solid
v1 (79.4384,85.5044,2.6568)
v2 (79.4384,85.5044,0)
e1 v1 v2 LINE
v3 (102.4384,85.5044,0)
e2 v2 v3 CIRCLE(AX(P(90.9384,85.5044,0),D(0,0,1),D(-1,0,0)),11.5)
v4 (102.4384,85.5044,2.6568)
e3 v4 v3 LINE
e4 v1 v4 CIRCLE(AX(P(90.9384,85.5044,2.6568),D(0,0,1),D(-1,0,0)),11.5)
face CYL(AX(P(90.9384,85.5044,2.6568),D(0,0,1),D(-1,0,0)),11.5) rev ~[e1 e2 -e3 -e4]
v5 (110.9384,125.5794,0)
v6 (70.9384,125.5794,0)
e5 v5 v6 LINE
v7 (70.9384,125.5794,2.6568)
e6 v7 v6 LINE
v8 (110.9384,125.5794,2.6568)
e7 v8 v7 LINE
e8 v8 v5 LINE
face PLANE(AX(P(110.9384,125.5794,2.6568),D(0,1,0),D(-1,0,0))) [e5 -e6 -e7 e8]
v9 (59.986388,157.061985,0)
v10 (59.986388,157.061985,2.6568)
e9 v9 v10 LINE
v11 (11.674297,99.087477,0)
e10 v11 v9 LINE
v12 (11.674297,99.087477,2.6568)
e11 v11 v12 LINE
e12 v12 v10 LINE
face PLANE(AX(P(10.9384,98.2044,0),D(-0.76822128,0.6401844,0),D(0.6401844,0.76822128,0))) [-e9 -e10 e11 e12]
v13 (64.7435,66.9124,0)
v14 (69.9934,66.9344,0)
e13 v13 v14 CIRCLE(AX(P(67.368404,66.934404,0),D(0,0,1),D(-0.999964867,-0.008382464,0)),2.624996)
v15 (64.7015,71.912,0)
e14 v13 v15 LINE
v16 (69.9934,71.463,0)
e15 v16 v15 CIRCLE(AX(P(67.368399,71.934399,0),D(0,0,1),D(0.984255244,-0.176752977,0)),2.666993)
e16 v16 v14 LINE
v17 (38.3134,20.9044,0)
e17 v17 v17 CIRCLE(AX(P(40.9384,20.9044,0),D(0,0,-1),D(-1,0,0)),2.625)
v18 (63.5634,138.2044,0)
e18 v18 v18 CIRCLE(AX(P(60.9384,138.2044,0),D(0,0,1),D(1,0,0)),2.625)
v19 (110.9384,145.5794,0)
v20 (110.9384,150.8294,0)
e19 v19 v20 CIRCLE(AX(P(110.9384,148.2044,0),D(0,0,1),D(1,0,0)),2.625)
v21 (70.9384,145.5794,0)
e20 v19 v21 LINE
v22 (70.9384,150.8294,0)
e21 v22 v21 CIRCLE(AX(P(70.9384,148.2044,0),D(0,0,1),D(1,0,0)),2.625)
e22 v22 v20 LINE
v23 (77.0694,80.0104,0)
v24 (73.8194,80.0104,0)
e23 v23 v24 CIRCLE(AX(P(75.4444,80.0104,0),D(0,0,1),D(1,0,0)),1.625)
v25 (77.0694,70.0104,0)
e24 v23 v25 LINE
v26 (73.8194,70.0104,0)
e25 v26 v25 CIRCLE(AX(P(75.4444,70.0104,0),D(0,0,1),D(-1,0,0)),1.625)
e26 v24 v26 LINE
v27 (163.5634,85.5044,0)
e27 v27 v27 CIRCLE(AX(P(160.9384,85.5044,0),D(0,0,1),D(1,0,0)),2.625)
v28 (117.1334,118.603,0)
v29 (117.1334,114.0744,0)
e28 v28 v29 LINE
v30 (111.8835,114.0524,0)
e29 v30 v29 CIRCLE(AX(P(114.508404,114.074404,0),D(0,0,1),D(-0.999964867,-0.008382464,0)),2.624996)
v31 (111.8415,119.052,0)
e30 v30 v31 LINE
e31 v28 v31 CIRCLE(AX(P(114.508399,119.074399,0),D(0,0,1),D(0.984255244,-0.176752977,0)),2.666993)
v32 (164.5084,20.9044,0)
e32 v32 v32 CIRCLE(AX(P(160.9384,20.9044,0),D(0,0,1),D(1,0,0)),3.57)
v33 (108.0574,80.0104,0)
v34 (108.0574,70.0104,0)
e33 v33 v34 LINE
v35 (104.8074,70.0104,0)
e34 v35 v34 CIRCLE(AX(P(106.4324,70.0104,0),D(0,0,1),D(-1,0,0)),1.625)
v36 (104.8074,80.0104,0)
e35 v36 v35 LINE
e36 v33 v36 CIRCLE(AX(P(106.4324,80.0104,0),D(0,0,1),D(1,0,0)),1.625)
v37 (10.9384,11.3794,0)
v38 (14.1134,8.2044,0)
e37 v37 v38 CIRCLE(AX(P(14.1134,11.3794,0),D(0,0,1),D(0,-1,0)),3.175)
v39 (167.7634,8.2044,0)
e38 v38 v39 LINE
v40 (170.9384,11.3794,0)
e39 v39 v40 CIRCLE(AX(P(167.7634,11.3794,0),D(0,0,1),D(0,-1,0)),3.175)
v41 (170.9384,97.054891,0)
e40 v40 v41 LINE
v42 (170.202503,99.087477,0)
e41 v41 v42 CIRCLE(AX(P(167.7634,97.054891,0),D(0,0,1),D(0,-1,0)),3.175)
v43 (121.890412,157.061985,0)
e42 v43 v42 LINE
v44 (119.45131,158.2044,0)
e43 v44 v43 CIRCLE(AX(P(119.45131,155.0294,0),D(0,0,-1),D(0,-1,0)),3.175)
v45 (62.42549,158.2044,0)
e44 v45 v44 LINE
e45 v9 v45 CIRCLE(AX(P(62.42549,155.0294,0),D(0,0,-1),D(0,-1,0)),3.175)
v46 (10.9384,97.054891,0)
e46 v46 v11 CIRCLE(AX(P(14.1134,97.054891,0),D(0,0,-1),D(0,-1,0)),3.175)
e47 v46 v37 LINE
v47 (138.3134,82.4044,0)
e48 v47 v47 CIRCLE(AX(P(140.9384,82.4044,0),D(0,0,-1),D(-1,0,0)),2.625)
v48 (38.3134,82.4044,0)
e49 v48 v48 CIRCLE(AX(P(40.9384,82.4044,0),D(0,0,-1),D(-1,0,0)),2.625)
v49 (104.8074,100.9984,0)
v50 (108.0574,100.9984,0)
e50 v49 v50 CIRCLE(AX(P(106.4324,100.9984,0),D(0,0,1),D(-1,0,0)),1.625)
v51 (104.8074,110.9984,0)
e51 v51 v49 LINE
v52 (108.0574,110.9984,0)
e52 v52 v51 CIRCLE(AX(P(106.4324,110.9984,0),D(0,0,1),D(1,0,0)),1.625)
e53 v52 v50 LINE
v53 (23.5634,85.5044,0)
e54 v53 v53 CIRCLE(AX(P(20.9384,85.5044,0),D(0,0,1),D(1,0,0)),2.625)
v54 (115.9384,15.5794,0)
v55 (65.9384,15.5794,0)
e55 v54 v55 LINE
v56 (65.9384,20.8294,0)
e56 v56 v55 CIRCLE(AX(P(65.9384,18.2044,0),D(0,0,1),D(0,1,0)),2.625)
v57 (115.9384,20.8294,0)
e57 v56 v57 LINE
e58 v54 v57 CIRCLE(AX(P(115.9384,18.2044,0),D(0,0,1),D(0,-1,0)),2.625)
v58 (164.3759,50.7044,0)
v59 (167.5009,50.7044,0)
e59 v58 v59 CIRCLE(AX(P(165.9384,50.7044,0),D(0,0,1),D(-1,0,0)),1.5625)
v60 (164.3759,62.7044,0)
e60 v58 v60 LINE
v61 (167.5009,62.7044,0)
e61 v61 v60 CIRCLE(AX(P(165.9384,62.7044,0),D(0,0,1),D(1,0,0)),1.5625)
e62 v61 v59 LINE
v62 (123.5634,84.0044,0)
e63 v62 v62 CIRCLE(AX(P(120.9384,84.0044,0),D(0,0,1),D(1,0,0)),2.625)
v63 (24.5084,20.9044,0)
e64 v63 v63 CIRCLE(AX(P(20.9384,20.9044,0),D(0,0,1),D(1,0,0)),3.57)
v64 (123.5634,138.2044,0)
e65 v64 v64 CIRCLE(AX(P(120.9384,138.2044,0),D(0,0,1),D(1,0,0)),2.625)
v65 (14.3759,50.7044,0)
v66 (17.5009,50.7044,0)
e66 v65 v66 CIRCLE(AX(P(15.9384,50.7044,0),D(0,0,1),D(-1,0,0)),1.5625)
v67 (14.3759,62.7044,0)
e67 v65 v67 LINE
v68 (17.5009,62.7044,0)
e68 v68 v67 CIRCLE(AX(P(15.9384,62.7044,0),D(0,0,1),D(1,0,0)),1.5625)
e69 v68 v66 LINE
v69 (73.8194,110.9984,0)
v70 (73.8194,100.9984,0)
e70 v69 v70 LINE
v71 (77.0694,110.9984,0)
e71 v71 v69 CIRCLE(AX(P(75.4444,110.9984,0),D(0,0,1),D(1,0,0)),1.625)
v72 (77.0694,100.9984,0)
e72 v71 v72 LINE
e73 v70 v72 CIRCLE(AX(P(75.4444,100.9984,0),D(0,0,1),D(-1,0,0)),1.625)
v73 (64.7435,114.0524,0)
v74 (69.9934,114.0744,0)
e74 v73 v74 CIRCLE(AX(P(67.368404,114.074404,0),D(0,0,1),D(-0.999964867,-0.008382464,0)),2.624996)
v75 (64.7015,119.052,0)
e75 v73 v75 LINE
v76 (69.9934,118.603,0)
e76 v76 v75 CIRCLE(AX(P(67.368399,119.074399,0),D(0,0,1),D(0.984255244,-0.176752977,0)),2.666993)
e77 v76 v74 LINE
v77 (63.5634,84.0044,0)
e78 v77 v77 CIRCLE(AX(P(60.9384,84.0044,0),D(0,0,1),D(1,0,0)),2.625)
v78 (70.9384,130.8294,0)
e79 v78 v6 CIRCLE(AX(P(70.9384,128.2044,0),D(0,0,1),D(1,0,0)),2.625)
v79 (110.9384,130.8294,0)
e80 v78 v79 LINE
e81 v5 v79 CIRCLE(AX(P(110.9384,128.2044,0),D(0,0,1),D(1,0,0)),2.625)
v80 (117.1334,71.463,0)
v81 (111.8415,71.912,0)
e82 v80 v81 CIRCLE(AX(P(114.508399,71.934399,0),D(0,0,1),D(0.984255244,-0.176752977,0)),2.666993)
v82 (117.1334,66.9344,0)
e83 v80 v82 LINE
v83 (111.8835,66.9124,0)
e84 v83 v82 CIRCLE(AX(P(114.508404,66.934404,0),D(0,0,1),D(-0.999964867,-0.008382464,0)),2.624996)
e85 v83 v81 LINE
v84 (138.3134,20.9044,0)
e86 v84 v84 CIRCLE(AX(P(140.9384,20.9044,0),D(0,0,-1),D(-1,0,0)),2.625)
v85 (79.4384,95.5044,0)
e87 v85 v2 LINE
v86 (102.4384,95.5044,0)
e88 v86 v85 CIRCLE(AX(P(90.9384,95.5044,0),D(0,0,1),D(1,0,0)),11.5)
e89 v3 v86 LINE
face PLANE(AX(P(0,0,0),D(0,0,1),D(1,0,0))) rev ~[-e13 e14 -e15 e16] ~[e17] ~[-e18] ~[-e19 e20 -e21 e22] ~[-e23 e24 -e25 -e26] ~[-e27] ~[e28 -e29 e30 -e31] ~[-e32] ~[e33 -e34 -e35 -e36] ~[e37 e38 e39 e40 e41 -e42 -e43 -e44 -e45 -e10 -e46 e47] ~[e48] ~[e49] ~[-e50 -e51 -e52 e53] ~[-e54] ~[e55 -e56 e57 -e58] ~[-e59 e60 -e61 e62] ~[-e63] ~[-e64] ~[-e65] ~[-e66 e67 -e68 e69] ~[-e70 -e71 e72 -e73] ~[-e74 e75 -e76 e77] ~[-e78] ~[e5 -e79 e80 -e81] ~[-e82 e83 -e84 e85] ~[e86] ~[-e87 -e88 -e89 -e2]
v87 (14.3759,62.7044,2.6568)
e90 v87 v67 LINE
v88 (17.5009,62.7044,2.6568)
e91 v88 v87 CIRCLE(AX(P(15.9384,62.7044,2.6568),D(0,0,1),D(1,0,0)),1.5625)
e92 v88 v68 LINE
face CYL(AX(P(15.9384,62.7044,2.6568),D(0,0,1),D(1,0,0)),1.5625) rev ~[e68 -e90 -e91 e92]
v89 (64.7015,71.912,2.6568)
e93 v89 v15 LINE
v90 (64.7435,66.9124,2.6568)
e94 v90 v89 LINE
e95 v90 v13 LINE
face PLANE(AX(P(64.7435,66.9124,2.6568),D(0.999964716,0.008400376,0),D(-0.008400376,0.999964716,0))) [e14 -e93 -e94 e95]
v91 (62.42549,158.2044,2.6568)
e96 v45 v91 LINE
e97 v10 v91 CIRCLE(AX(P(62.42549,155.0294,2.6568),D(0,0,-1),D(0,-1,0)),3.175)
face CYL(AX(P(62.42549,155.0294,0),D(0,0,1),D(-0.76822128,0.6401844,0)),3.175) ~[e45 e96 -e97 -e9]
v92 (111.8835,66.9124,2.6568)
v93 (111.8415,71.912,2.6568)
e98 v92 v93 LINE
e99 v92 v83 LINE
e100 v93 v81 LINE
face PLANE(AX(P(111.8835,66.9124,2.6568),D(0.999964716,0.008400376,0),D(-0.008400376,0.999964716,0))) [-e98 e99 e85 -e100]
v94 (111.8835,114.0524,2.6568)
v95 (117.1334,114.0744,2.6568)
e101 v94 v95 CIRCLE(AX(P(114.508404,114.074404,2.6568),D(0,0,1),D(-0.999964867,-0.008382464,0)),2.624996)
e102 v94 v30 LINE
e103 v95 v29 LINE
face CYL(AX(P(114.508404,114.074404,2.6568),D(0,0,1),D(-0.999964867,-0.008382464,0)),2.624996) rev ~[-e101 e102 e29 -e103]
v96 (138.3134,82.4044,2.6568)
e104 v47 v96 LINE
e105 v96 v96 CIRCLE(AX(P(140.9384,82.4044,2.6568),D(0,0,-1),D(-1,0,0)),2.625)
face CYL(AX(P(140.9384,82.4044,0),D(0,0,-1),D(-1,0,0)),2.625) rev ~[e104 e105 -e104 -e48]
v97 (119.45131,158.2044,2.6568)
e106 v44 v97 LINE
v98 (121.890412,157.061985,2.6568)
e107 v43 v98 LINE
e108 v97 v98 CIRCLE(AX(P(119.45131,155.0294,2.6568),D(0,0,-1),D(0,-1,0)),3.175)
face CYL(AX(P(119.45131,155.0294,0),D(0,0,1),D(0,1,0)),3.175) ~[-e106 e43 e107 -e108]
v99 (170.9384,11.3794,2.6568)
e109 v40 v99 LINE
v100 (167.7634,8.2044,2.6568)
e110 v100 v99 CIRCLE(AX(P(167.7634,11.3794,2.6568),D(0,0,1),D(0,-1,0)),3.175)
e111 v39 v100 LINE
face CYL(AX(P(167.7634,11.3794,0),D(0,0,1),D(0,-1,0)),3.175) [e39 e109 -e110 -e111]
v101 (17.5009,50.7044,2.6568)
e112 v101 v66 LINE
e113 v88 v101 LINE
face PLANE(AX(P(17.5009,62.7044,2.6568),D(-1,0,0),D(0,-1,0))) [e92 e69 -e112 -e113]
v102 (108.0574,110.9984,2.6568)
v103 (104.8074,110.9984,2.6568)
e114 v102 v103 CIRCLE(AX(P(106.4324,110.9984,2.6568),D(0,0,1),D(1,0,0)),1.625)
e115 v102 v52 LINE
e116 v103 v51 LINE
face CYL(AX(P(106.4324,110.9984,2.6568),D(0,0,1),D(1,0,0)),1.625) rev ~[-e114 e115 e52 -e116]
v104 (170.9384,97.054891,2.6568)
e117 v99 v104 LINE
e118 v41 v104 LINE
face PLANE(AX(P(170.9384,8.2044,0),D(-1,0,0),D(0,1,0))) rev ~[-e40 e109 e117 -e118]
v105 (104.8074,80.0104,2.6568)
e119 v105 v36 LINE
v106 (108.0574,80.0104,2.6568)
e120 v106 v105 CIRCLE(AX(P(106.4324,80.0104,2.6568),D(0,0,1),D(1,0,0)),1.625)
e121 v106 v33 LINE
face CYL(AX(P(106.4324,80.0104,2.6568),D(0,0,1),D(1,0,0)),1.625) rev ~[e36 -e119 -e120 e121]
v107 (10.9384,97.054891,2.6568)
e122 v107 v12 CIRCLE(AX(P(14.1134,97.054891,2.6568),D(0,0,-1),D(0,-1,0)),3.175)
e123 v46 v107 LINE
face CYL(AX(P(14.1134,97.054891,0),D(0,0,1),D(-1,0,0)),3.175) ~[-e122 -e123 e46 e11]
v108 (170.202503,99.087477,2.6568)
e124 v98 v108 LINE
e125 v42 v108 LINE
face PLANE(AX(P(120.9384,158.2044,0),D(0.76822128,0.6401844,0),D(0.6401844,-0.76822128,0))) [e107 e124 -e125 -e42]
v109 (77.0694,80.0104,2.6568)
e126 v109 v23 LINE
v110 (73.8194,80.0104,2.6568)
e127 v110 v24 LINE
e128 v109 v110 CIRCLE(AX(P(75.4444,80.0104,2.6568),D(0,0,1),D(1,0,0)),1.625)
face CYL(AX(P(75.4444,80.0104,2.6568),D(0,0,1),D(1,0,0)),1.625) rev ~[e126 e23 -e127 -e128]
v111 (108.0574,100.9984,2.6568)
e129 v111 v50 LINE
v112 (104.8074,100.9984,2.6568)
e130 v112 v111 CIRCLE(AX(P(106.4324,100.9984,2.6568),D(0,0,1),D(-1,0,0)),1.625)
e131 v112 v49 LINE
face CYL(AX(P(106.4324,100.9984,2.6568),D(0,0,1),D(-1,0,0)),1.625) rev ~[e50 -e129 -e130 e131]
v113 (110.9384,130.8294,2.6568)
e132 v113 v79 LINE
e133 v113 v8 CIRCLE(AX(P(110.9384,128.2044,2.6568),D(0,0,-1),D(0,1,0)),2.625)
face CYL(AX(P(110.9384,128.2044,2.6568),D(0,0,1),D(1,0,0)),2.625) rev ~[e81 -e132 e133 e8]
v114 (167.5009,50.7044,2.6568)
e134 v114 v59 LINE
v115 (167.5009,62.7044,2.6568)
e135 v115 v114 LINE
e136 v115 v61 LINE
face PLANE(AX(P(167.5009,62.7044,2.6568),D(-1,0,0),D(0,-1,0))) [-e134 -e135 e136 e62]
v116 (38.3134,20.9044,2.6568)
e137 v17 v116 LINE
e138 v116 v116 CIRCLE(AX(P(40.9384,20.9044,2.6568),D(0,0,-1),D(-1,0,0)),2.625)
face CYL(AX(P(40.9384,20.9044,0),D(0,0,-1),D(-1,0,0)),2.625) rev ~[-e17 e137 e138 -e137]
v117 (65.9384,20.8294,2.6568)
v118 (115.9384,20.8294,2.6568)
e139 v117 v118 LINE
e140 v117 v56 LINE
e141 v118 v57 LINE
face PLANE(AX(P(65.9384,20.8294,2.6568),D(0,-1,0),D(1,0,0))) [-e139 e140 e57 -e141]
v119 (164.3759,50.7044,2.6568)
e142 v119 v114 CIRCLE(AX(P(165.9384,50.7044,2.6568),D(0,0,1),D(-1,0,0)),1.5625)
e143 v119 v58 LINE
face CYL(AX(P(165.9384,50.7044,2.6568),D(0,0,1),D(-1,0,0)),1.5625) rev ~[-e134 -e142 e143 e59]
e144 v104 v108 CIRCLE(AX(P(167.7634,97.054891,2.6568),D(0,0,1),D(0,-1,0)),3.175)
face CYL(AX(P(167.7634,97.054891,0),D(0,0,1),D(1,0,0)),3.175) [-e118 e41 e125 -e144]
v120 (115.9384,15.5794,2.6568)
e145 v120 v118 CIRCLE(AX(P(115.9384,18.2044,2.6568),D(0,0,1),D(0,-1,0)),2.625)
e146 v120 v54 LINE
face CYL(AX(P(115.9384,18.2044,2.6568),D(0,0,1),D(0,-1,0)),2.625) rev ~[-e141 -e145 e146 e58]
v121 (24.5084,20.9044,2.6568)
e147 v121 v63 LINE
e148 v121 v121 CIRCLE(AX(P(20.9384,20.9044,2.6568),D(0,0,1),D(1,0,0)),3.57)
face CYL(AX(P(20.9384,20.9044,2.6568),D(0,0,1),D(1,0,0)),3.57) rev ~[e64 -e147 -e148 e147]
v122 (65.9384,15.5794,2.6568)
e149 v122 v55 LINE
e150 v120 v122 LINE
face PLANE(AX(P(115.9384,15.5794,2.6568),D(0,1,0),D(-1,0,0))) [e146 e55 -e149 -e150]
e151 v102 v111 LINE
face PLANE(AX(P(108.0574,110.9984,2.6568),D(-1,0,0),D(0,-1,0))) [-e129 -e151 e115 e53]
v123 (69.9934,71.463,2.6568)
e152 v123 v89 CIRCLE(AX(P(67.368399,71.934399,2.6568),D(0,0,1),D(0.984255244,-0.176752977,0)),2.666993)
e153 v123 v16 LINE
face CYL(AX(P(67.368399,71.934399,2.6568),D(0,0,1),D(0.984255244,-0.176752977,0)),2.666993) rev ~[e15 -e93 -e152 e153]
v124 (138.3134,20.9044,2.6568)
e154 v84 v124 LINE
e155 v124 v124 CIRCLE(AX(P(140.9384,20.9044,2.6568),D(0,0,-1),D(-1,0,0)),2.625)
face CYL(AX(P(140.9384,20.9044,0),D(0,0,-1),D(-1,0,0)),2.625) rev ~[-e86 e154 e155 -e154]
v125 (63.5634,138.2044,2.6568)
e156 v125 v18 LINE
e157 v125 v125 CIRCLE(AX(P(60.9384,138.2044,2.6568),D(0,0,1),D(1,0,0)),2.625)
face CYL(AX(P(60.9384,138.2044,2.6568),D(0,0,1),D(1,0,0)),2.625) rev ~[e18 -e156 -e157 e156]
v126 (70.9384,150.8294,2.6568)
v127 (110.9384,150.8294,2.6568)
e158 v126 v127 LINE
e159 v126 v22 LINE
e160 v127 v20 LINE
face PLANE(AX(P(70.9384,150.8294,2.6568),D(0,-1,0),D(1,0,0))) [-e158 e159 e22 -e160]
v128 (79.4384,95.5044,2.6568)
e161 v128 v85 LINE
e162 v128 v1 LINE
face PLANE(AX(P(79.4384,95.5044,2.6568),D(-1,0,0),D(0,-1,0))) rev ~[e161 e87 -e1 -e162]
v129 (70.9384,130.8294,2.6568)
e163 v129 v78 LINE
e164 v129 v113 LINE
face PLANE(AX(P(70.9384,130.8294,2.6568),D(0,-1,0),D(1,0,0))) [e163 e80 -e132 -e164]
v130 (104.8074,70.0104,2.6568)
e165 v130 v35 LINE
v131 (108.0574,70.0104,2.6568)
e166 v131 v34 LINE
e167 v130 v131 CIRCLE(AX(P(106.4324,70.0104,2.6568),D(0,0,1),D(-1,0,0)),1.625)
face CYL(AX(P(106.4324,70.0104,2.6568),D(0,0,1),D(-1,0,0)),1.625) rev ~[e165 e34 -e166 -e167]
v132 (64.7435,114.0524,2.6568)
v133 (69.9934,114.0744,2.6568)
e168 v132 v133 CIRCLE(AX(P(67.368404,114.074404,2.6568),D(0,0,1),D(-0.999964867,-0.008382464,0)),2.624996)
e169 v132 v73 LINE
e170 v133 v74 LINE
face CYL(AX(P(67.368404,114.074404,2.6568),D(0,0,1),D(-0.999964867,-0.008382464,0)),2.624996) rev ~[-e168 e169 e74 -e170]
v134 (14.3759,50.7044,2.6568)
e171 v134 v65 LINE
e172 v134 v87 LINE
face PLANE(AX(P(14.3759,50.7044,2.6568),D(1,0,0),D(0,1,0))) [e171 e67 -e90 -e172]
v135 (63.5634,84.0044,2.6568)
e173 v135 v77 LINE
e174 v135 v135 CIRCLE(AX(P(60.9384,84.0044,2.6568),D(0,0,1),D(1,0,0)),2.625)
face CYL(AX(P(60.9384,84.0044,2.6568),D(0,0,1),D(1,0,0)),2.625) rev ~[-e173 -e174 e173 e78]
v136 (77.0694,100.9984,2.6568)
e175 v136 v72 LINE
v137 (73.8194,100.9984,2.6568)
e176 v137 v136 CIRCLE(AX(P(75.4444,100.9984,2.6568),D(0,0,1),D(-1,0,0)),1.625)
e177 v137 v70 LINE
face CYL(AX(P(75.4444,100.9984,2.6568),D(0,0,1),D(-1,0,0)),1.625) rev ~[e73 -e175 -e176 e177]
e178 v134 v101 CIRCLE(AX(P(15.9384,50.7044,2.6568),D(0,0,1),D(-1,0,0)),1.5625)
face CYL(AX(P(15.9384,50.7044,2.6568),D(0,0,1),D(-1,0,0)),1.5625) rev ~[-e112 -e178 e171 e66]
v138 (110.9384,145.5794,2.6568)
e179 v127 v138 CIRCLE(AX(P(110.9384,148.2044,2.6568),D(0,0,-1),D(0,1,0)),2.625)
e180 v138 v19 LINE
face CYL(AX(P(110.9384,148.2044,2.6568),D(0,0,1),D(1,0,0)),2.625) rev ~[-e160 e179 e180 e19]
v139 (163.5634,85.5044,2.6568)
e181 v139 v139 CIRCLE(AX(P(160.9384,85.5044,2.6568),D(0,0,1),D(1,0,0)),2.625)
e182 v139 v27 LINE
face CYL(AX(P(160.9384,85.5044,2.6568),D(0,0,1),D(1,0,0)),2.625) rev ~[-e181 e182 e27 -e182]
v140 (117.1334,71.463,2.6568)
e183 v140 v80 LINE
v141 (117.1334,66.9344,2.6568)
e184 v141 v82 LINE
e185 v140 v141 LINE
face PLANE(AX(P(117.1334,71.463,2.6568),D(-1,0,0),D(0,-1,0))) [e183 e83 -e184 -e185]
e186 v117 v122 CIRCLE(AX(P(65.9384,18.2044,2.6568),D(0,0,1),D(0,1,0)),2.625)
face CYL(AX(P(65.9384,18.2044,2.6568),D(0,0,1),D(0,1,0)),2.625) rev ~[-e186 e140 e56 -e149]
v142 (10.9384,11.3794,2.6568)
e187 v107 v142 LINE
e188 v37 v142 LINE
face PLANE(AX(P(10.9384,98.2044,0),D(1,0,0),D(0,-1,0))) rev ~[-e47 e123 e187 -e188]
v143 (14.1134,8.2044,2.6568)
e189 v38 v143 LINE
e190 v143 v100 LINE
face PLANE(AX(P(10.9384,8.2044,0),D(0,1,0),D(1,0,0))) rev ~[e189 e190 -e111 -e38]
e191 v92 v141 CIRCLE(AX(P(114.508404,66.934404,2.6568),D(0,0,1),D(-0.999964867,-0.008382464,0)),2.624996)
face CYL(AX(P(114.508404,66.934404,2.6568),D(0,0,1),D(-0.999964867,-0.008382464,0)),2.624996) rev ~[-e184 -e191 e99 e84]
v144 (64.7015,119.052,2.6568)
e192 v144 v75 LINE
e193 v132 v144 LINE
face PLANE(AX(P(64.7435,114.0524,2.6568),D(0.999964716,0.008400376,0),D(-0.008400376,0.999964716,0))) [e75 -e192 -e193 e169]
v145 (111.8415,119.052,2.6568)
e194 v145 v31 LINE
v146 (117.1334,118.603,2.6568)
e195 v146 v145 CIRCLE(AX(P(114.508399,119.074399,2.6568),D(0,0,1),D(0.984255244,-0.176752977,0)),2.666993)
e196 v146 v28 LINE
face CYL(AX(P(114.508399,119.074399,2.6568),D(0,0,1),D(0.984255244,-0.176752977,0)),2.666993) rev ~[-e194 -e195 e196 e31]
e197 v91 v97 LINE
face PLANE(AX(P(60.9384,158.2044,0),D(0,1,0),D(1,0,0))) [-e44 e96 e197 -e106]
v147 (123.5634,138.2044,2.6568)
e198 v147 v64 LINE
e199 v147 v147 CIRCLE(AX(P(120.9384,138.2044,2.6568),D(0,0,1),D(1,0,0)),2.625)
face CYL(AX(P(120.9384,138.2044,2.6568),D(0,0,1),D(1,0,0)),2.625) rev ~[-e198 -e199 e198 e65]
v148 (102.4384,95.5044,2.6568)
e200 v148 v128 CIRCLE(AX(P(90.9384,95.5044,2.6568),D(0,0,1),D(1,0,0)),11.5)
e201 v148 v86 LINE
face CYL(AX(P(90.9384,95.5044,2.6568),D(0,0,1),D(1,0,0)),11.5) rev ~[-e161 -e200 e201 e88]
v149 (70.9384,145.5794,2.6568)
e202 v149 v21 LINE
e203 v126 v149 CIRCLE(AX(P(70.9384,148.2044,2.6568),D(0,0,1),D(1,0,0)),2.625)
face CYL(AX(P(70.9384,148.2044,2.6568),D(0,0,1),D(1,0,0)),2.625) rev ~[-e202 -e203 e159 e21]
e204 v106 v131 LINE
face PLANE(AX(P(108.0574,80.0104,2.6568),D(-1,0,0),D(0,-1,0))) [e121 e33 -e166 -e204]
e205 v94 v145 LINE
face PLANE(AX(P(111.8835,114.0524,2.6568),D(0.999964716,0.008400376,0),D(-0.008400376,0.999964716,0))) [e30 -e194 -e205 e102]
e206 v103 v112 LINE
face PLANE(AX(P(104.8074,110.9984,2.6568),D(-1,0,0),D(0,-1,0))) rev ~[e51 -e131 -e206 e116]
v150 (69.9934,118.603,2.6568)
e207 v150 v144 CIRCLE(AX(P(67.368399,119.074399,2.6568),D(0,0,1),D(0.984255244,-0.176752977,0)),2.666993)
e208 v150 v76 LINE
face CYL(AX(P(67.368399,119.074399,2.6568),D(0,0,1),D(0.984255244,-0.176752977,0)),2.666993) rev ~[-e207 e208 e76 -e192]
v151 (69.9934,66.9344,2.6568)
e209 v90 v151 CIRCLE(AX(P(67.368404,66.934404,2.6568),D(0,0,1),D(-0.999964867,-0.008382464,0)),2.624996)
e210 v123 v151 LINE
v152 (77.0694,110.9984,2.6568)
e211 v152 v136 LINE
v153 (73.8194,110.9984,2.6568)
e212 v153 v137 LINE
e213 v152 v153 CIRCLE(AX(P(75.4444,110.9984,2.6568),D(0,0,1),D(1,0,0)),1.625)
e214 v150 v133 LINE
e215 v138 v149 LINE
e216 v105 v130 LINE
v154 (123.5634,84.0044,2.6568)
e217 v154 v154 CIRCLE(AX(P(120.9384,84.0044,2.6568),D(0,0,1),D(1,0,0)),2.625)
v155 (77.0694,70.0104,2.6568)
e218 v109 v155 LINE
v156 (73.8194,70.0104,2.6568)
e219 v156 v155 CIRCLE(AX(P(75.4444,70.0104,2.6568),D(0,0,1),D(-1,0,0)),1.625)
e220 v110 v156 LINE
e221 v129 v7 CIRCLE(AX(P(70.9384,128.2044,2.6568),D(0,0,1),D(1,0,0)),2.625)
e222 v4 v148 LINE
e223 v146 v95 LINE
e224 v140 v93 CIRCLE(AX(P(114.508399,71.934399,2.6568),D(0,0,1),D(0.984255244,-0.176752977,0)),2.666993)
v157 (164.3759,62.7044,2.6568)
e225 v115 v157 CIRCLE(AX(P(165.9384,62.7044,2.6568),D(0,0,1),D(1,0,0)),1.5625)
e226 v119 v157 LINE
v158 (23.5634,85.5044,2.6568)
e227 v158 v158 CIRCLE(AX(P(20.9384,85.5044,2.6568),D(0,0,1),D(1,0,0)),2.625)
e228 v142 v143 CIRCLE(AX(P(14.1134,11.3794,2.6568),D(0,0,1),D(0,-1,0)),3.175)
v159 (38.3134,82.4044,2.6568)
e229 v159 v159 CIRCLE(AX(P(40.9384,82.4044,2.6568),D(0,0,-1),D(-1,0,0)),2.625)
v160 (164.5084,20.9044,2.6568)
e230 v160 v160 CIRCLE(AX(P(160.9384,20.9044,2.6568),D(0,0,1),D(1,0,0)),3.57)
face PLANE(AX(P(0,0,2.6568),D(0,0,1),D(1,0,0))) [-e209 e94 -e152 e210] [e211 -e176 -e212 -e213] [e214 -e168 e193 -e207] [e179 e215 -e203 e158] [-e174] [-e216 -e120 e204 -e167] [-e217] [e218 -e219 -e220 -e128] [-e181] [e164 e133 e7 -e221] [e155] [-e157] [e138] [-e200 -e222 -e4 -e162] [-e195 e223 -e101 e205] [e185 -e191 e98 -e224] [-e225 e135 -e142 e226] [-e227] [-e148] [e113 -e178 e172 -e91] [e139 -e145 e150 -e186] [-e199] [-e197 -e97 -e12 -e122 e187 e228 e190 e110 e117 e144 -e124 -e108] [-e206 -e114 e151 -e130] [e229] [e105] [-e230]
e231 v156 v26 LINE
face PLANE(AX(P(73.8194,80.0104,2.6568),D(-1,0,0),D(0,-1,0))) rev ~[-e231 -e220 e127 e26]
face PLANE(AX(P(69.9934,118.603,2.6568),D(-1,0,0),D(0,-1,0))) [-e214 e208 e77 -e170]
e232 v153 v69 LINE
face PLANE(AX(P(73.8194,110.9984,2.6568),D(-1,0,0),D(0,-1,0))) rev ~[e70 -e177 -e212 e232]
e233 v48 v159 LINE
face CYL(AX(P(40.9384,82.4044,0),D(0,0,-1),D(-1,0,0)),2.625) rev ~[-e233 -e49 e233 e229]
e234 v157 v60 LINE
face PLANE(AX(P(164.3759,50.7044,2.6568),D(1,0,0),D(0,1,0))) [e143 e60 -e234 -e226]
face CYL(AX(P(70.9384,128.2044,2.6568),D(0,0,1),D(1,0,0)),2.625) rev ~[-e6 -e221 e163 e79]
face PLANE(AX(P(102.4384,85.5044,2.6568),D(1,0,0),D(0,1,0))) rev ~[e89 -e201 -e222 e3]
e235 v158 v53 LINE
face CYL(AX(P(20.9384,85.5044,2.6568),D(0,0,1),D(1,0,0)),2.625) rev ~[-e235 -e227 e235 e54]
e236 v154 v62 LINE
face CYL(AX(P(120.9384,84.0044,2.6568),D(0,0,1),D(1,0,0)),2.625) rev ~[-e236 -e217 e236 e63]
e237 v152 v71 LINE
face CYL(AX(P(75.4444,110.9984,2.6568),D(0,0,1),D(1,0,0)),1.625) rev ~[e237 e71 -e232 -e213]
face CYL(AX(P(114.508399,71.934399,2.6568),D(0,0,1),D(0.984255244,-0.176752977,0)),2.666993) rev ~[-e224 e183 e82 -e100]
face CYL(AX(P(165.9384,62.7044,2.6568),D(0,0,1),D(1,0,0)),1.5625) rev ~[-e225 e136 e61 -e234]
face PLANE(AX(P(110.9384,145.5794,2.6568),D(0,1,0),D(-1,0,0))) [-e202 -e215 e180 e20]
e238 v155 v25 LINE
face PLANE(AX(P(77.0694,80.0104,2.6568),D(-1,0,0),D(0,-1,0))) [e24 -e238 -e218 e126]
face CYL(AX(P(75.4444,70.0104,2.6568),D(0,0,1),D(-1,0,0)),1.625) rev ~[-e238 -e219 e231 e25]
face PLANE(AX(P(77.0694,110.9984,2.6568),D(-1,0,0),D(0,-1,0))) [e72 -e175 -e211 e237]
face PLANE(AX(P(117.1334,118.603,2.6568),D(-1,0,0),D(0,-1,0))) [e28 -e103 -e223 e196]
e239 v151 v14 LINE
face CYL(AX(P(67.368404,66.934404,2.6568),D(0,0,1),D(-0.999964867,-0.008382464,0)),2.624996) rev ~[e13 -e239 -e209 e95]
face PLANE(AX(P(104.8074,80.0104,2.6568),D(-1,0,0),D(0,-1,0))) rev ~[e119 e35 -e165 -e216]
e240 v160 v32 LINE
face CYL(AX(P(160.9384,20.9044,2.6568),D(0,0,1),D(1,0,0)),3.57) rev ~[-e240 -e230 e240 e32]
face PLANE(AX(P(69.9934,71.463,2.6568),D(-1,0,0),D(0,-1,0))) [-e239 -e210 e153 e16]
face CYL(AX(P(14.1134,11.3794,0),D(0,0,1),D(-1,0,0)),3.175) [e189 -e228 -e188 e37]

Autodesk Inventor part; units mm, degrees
ref_plane "YZ Plane" through (0, 0, 0) normal (1, 0, 0) x (0, 1, 0)
ref_plane "XZ Plane" through (0, 0, 0) normal (0, 1, 0) x (-1, 0, 0)
ref_plane "XY Plane" through (0, 0, 0) normal (0, 0, 1) x (1, 0, 0)
sketch "Sketch1" plane through (0, 0, 0) normal (0, 0, 1) x (1, 0, 0)
  line L0 (10.9384, 8.2044) -> (170.9384, 8.2044)
  line L1 (170.9384, 8.2044) -> (170.9384, 98.2044)
  line L2 (10.9384, 98.2044) -> (10.9384, 8.2044)
  line L3 (10.9384, 98.2044) -> (60.9384, 158.2044)
  line L4 (60.9384, 158.2044) -> (120.9384, 158.2044)
  line L5 (120.9384, 158.2044) -> (170.9384, 98.2044)
  dimension "d0" = 160
  dimension "d4" = 60
  dimension "d5" = 50
  dimension "d6" = 90
  dimension "d7" = 90
  dimension "d8" = 150
extrude "Extrusion1" add sketch "Sketch1" along normal blind 2.6568
sketch "Sketch2" plane through (0, 0, 2.6568) normal (0, 0, 1) x (1, 0, 0)
  line L0 (10.9384, 8.2044) -> (10.9384, 98.2044) projected
  line L1 (170.9384, 8.2044) -> (10.9384, 8.2044) projected
  circle A0 centre (20.9384, 20.9044) radius 3.57
  circle A1 centre (20.9384, 85.5044) radius 2.625
  dimension "d11" = 7.14
  dimension "d12" = 12.7
  dimension "d13" = 10
  dimension "d14" = 10
  dimension "d15" = 64.6
  dimension "d16" = 5.25
extrude "wheel_holes" cut sketch "Sketch2" against normal through all
pattern_linear "Rectangular Pattern1" count 2 spacing 140 along (1, 0, 0) of "wheel_holes"
sketch "Sketch3" plane through (0, 0, 2.6568) normal (0, 0, 1) x (1, 0, 0)
  line L0 (10.9384, 8.2044) -> (10.9384, 98.2044) projected
  line L1 (170.9384, 8.2044) -> (10.9384, 8.2044) projected
  arc A0 (79.4384, 85.5044) -> (102.4384, 85.5044) centre (90.9384, 85.5044) ccw
  arc A1 (73.8194, 100.9984) -> (77.0694, 100.9984) centre (75.4444, 100.9984) ccw
  line L2 (170.9384, 98.2044) -> (170.9384, 8.2044) projected
  arc A2 (77.0694, 110.9984) -> (73.8194, 110.9984) centre (75.4444, 110.9984) ccw
  line L3 (77.0694, 110.9984) -> (77.0694, 100.9984)
  line L4 (73.8194, 110.9984) -> (73.8194, 100.9984)
  arc A3 (102.4384, 95.5044) -> (79.4384, 95.5044) centre (90.9384, 95.5044) ccw
  line L5 (79.4384, 95.5044) -> (79.4384, 85.5044)
  line L6 (102.4384, 85.5044) -> (102.4384, 95.5044)
  arc A4 (104.8074, 100.9984) -> (108.0574, 100.9984) centre (106.4324, 100.9984) ccw
  arc A5 (108.0574, 110.9984) -> (104.8074, 110.9984) centre (106.4324, 110.9984) ccw
  line L7 (108.0574, 110.9984) -> (108.0574, 100.9984)
  line L8 (104.8074, 110.9984) -> (104.8074, 100.9984)
  arc A6 (73.8194, 70.0104) -> (77.0694, 70.0104) centre (75.4444, 70.0104) ccw
  arc A7 (77.0694, 80.0104) -> (73.8194, 80.0104) centre (75.4444, 80.0104) ccw
  line L9 (77.0694, 80.0104) -> (77.0694, 70.0104)
  line L10 (73.8194, 80.0104) -> (73.8194, 70.0104)
  arc A8 (104.8074, 70.0104) -> (108.0574, 70.0104) centre (106.4324, 70.0104) ccw
  arc A9 (108.0574, 80.0104) -> (104.8074, 80.0104) centre (106.4324, 80.0104) ccw
  line L11 (108.0574, 80.0104) -> (108.0574, 70.0104)
  line L12 (104.8074, 80.0104) -> (104.8074, 70.0104)
  dimension "d22" = 23
  dimension "d23" = 80
  dimension "d24" = 77.3
  dimension "d33" = 3.25
  dimension "d35" = 64.506
  dimension "d36" = 92.794
  dimension "d105" = 10
  dimension "d106" = 64.506
  dimension "d110" = 3.25
  dimension "d112" = 23
  dimension "d113" = 80
  dimension "d114" = 10
  dimension "d126" = 30.988
  dimension "d129" = 30.988
  dimension "d141" = 10
extrude "Nema_17" cut sketch "Sketch3" against normal through all
sketch "Sketch4" plane through (0, 0, 2.6568) normal (0, 0, 1) x (1, 0, 0)
  circle A0 centre (160.9384, 85.5044) radius 2.625 projected
  circle A1 centre (20.9384, 85.5044) radius 2.625 projected
  line L0 (10.9384, 8.2044) -> (10.9384, 98.2044) projected
  line L1 (170.9384, 98.2044) -> (170.9384, 8.2044) projected
  circle A2 centre (60.9384, 84.0044) radius 2.625
  circle A3 centre (120.9384, 84.0044) radius 2.625
  dimension "d39" = 50
  dimension "d41" = 5.25
  dimension "d42" = 50
  dimension "d43" = 1.5
  dimension "d44" = 5.25
  dimension "d99" = 1.5
extrude "Idler_Holes" cut sketch "Sketch4" against normal through all contours A2 | A3
sketch "Sketch5" plane through (0, 0, 2.6568) normal (0, 0, 1) x (1, 0, 0)
  line L0 (60.9384, 158.2044) -> (120.9384, 158.2044) projected
  circle A0 centre (110.9384, 148.2044) radius 2.625
  circle A1 centre (110.9384, 128.2044) radius 2.625
  circle A2 centre (70.9384, 148.2044) radius 2.625
  circle A3 centre (70.9384, 128.2044) radius 2.625
  line L1 (70.9384, 150.8294) -> (110.9384, 150.8294)
  line L2 (110.9384, 145.5794) -> (70.9384, 145.5794)
  line L3 (70.9384, 130.8294) -> (110.9384, 130.8294)
  line L4 (110.9384, 125.5794) -> (70.9384, 125.5794)
  dimension "d47" = 10
  dimension "d48" = 10
  dimension "d49" = 20
  dimension "d50" = 10
  dimension "d51" = 5.25
  dimension "d52" = 5.25
  dimension "d87" = 40
  dimension "d145" = 40
  dimension "d146" = 40
extrude "x-slot" cut sketch "Sketch5" against normal through all
fillet "Fillet2" radius 3.175 6 edges at (120.9384, 158.2044, 1.3284) (60.9384, 158.2044, 1.3284) (170.9384, 98.2044, 1.3284) (170.9384, 8.2044, 1.3284) (10.9384, 98.2044, 1.3284) (10.9384, 8.2044, 1.3284)
sketch "Sketch7" plane through (0, 0, 0) normal (0, 0, -1) x (-1, 0, 0)
  line L0 (-10.9384, 97.0549) -> (-10.9384, 11.3794) projected
  line L1 (-170.9384, 11.3794) -> (-170.9384, 97.0549) projected
  line L2 (-14.1134, 8.2044) -> (-167.7634, 8.2044) projected
  circle A0 centre (-140.9384, 20.9044) radius 2.625
  circle A1 centre (-40.9384, 20.9044) radius 2.625
  dimension "d68" = 5.25
  dimension "d69" = 12.7
  dimension "d70" = 30
  dimension "d71" = 5.25
  dimension "d72" = 30
  dimension "d73" = 12.7
extrude "two_plater" cut sketch "Sketch7" against normal through all
pattern_linear "Rectangular Pattern3" count 2 spacing 61.5 along (0, 1, 0) of "two_plater"
sketch "Sketch8" plane through (0, 0, 2.6568) normal (0, 0, 1) x (1, 0, 0)
  line L0 (167.7634, 8.2044) -> (14.1134, 8.2044) projected
  line L1 (10.9384, 11.3794) -> (10.9384, 97.0549) projected
  arc A0 (14.3759, 50.7044) -> (17.5009, 50.7044) centre (15.9384, 50.7044) ccw
  arc A1 (17.5009, 62.7044) -> (14.3759, 62.7044) centre (15.9384, 62.7044) ccw
  line L2 (14.3759, 50.7044) -> (14.3759, 62.7044)
  line L3 (17.5009, 62.7044) -> (17.5009, 50.7044)
  arc A2 (164.3759, 50.7044) -> (167.5009, 50.7044) centre (165.9384, 50.7044) ccw
  arc A3 (167.5009, 62.7044) -> (164.3759, 62.7044) centre (165.9384, 62.7044) ccw
  line L4 (164.3759, 50.7044) -> (164.3759, 62.7044)
  line L5 (167.5009, 62.7044) -> (167.5009, 50.7044)
  point P0 (0, 0)
  dimension "d76" = 3.125
  dimension "d77" = 3.125
  dimension "d78" = 12
  dimension "d79" = 5
  dimension "d80" = 42.5
  dimension "d81" = 3.125
  dimension "d82" = 5
  dimension "d94" = 150
extrude "limit_switches" cut sketch "Sketch8" against normal through all
sketch "Sketch10" plane through (0, 0, 2.6568) normal (0, 0, 1) x (1, 0, 0)
  line L0 (167.7634, 8.2044) -> (14.1134, 8.2044) projected
  line L1 (170.9384, 97.0549) -> (170.9384, 11.3794) projected
  arc A0 (65.9384, 20.8294) -> (65.9384, 15.5794) centre (65.9384, 18.2044) ccw
  arc A1 (115.9384, 15.5794) -> (115.9384, 20.8294) centre (115.9384, 18.2044) ccw
  line L2 (65.9384, 20.8294) -> (115.9384, 20.8294)
  line L3 (115.9384, 15.5794) -> (65.9384, 15.5794)
  point P0 (0, 0)
  dimension "d132" = 5.25
  dimension "d133" = 5.25
  dimension "d134" = 10
  dimension "d135" = 10
  dimension "d136" = 50
  dimension "d138" = 55
  dimension "d169" = 50
extrude "Extrusion10" cut sketch "Sketch10" against normal through all
sketch "Sketch11" plane through (0, 0, 2.6568) normal (0, 0, 1) x (1, 0, 0)
  line L0 (62.4255, 158.2044) -> (119.4513, 158.2044) projected
  line L1 (10.9384, 11.3794) -> (10.9384, 97.0549) projected
  circle A0 centre (60.9384, 138.2044) radius 2.625
  circle A1 centre (120.9384, 138.2044) radius 2.625
  point P0 (0, 0)
  dimension "d147" = 5.25
  dimension "d148" = 5.25
  dimension "d149" = 60
  dimension "d150" = 20
  dimension "d151" = 20
  dimension "d152" = 50
extrude "Extrusion11" cut sketch "Sketch11" against normal through all
sketch "Sketch13" plane through (0, 0, 2.6568) normal (0, 0, 1) x (1, 0, 0)
  line L0 (10.9384, 11.3794) -> (10.9384, 97.0549) projected
  arc A0 (102.4384, 95.5044) -> (79.4384, 95.5044) centre (90.9384, 95.5044) ccw projected
  arc A1 (69.9934, 118.603) -> (64.7015, 119.052) centre (67.3684, 119.0744) ccw
  arc A2 (64.7435, 114.0524) -> (69.9934, 114.0744) centre (67.3684, 114.0744) ccw
  line L1 (69.9934, 118.603) -> (69.9934, 114.0744)
  line L2 (64.7435, 114.0524) -> (64.7015, 119.052)
  point P0 (0, 0)
  dimension "d155" = 5.334
  dimension "d156" = 56.43
  dimension "d157" = 23.57
  dimension "d166" = 5.25
  dimension "d167" = 5
  dimension "d168" = 56.43
extrude "Extrusion12" cut sketch "Sketch13" against normal through all
pattern_linear "Rectangular Pattern4" count 2 spacing 47.14 along (1, 0, 0) count 2 spacing 47.14 along (0, -1, 0) of "Extrusion12"
equation "\"d7\" = d6"
equation "\"d35\" = d29"
equation "\"d112\" = d22"
equation "\"d113\" = d23"
equation "\"d42\" = d39"
equation "\"d43\" = d99"
equation "\"d44\" = d41"
equation "\"d50\" = d48"
equation "\"d52\" = d51"
equation "\"d76\" = d77"
equation "\"d82\" = d79"
equation "\"d134\" = d135"
equation "\"d29\" = 64.506"
properties part number "26029-01" material "Steel, Mild"
